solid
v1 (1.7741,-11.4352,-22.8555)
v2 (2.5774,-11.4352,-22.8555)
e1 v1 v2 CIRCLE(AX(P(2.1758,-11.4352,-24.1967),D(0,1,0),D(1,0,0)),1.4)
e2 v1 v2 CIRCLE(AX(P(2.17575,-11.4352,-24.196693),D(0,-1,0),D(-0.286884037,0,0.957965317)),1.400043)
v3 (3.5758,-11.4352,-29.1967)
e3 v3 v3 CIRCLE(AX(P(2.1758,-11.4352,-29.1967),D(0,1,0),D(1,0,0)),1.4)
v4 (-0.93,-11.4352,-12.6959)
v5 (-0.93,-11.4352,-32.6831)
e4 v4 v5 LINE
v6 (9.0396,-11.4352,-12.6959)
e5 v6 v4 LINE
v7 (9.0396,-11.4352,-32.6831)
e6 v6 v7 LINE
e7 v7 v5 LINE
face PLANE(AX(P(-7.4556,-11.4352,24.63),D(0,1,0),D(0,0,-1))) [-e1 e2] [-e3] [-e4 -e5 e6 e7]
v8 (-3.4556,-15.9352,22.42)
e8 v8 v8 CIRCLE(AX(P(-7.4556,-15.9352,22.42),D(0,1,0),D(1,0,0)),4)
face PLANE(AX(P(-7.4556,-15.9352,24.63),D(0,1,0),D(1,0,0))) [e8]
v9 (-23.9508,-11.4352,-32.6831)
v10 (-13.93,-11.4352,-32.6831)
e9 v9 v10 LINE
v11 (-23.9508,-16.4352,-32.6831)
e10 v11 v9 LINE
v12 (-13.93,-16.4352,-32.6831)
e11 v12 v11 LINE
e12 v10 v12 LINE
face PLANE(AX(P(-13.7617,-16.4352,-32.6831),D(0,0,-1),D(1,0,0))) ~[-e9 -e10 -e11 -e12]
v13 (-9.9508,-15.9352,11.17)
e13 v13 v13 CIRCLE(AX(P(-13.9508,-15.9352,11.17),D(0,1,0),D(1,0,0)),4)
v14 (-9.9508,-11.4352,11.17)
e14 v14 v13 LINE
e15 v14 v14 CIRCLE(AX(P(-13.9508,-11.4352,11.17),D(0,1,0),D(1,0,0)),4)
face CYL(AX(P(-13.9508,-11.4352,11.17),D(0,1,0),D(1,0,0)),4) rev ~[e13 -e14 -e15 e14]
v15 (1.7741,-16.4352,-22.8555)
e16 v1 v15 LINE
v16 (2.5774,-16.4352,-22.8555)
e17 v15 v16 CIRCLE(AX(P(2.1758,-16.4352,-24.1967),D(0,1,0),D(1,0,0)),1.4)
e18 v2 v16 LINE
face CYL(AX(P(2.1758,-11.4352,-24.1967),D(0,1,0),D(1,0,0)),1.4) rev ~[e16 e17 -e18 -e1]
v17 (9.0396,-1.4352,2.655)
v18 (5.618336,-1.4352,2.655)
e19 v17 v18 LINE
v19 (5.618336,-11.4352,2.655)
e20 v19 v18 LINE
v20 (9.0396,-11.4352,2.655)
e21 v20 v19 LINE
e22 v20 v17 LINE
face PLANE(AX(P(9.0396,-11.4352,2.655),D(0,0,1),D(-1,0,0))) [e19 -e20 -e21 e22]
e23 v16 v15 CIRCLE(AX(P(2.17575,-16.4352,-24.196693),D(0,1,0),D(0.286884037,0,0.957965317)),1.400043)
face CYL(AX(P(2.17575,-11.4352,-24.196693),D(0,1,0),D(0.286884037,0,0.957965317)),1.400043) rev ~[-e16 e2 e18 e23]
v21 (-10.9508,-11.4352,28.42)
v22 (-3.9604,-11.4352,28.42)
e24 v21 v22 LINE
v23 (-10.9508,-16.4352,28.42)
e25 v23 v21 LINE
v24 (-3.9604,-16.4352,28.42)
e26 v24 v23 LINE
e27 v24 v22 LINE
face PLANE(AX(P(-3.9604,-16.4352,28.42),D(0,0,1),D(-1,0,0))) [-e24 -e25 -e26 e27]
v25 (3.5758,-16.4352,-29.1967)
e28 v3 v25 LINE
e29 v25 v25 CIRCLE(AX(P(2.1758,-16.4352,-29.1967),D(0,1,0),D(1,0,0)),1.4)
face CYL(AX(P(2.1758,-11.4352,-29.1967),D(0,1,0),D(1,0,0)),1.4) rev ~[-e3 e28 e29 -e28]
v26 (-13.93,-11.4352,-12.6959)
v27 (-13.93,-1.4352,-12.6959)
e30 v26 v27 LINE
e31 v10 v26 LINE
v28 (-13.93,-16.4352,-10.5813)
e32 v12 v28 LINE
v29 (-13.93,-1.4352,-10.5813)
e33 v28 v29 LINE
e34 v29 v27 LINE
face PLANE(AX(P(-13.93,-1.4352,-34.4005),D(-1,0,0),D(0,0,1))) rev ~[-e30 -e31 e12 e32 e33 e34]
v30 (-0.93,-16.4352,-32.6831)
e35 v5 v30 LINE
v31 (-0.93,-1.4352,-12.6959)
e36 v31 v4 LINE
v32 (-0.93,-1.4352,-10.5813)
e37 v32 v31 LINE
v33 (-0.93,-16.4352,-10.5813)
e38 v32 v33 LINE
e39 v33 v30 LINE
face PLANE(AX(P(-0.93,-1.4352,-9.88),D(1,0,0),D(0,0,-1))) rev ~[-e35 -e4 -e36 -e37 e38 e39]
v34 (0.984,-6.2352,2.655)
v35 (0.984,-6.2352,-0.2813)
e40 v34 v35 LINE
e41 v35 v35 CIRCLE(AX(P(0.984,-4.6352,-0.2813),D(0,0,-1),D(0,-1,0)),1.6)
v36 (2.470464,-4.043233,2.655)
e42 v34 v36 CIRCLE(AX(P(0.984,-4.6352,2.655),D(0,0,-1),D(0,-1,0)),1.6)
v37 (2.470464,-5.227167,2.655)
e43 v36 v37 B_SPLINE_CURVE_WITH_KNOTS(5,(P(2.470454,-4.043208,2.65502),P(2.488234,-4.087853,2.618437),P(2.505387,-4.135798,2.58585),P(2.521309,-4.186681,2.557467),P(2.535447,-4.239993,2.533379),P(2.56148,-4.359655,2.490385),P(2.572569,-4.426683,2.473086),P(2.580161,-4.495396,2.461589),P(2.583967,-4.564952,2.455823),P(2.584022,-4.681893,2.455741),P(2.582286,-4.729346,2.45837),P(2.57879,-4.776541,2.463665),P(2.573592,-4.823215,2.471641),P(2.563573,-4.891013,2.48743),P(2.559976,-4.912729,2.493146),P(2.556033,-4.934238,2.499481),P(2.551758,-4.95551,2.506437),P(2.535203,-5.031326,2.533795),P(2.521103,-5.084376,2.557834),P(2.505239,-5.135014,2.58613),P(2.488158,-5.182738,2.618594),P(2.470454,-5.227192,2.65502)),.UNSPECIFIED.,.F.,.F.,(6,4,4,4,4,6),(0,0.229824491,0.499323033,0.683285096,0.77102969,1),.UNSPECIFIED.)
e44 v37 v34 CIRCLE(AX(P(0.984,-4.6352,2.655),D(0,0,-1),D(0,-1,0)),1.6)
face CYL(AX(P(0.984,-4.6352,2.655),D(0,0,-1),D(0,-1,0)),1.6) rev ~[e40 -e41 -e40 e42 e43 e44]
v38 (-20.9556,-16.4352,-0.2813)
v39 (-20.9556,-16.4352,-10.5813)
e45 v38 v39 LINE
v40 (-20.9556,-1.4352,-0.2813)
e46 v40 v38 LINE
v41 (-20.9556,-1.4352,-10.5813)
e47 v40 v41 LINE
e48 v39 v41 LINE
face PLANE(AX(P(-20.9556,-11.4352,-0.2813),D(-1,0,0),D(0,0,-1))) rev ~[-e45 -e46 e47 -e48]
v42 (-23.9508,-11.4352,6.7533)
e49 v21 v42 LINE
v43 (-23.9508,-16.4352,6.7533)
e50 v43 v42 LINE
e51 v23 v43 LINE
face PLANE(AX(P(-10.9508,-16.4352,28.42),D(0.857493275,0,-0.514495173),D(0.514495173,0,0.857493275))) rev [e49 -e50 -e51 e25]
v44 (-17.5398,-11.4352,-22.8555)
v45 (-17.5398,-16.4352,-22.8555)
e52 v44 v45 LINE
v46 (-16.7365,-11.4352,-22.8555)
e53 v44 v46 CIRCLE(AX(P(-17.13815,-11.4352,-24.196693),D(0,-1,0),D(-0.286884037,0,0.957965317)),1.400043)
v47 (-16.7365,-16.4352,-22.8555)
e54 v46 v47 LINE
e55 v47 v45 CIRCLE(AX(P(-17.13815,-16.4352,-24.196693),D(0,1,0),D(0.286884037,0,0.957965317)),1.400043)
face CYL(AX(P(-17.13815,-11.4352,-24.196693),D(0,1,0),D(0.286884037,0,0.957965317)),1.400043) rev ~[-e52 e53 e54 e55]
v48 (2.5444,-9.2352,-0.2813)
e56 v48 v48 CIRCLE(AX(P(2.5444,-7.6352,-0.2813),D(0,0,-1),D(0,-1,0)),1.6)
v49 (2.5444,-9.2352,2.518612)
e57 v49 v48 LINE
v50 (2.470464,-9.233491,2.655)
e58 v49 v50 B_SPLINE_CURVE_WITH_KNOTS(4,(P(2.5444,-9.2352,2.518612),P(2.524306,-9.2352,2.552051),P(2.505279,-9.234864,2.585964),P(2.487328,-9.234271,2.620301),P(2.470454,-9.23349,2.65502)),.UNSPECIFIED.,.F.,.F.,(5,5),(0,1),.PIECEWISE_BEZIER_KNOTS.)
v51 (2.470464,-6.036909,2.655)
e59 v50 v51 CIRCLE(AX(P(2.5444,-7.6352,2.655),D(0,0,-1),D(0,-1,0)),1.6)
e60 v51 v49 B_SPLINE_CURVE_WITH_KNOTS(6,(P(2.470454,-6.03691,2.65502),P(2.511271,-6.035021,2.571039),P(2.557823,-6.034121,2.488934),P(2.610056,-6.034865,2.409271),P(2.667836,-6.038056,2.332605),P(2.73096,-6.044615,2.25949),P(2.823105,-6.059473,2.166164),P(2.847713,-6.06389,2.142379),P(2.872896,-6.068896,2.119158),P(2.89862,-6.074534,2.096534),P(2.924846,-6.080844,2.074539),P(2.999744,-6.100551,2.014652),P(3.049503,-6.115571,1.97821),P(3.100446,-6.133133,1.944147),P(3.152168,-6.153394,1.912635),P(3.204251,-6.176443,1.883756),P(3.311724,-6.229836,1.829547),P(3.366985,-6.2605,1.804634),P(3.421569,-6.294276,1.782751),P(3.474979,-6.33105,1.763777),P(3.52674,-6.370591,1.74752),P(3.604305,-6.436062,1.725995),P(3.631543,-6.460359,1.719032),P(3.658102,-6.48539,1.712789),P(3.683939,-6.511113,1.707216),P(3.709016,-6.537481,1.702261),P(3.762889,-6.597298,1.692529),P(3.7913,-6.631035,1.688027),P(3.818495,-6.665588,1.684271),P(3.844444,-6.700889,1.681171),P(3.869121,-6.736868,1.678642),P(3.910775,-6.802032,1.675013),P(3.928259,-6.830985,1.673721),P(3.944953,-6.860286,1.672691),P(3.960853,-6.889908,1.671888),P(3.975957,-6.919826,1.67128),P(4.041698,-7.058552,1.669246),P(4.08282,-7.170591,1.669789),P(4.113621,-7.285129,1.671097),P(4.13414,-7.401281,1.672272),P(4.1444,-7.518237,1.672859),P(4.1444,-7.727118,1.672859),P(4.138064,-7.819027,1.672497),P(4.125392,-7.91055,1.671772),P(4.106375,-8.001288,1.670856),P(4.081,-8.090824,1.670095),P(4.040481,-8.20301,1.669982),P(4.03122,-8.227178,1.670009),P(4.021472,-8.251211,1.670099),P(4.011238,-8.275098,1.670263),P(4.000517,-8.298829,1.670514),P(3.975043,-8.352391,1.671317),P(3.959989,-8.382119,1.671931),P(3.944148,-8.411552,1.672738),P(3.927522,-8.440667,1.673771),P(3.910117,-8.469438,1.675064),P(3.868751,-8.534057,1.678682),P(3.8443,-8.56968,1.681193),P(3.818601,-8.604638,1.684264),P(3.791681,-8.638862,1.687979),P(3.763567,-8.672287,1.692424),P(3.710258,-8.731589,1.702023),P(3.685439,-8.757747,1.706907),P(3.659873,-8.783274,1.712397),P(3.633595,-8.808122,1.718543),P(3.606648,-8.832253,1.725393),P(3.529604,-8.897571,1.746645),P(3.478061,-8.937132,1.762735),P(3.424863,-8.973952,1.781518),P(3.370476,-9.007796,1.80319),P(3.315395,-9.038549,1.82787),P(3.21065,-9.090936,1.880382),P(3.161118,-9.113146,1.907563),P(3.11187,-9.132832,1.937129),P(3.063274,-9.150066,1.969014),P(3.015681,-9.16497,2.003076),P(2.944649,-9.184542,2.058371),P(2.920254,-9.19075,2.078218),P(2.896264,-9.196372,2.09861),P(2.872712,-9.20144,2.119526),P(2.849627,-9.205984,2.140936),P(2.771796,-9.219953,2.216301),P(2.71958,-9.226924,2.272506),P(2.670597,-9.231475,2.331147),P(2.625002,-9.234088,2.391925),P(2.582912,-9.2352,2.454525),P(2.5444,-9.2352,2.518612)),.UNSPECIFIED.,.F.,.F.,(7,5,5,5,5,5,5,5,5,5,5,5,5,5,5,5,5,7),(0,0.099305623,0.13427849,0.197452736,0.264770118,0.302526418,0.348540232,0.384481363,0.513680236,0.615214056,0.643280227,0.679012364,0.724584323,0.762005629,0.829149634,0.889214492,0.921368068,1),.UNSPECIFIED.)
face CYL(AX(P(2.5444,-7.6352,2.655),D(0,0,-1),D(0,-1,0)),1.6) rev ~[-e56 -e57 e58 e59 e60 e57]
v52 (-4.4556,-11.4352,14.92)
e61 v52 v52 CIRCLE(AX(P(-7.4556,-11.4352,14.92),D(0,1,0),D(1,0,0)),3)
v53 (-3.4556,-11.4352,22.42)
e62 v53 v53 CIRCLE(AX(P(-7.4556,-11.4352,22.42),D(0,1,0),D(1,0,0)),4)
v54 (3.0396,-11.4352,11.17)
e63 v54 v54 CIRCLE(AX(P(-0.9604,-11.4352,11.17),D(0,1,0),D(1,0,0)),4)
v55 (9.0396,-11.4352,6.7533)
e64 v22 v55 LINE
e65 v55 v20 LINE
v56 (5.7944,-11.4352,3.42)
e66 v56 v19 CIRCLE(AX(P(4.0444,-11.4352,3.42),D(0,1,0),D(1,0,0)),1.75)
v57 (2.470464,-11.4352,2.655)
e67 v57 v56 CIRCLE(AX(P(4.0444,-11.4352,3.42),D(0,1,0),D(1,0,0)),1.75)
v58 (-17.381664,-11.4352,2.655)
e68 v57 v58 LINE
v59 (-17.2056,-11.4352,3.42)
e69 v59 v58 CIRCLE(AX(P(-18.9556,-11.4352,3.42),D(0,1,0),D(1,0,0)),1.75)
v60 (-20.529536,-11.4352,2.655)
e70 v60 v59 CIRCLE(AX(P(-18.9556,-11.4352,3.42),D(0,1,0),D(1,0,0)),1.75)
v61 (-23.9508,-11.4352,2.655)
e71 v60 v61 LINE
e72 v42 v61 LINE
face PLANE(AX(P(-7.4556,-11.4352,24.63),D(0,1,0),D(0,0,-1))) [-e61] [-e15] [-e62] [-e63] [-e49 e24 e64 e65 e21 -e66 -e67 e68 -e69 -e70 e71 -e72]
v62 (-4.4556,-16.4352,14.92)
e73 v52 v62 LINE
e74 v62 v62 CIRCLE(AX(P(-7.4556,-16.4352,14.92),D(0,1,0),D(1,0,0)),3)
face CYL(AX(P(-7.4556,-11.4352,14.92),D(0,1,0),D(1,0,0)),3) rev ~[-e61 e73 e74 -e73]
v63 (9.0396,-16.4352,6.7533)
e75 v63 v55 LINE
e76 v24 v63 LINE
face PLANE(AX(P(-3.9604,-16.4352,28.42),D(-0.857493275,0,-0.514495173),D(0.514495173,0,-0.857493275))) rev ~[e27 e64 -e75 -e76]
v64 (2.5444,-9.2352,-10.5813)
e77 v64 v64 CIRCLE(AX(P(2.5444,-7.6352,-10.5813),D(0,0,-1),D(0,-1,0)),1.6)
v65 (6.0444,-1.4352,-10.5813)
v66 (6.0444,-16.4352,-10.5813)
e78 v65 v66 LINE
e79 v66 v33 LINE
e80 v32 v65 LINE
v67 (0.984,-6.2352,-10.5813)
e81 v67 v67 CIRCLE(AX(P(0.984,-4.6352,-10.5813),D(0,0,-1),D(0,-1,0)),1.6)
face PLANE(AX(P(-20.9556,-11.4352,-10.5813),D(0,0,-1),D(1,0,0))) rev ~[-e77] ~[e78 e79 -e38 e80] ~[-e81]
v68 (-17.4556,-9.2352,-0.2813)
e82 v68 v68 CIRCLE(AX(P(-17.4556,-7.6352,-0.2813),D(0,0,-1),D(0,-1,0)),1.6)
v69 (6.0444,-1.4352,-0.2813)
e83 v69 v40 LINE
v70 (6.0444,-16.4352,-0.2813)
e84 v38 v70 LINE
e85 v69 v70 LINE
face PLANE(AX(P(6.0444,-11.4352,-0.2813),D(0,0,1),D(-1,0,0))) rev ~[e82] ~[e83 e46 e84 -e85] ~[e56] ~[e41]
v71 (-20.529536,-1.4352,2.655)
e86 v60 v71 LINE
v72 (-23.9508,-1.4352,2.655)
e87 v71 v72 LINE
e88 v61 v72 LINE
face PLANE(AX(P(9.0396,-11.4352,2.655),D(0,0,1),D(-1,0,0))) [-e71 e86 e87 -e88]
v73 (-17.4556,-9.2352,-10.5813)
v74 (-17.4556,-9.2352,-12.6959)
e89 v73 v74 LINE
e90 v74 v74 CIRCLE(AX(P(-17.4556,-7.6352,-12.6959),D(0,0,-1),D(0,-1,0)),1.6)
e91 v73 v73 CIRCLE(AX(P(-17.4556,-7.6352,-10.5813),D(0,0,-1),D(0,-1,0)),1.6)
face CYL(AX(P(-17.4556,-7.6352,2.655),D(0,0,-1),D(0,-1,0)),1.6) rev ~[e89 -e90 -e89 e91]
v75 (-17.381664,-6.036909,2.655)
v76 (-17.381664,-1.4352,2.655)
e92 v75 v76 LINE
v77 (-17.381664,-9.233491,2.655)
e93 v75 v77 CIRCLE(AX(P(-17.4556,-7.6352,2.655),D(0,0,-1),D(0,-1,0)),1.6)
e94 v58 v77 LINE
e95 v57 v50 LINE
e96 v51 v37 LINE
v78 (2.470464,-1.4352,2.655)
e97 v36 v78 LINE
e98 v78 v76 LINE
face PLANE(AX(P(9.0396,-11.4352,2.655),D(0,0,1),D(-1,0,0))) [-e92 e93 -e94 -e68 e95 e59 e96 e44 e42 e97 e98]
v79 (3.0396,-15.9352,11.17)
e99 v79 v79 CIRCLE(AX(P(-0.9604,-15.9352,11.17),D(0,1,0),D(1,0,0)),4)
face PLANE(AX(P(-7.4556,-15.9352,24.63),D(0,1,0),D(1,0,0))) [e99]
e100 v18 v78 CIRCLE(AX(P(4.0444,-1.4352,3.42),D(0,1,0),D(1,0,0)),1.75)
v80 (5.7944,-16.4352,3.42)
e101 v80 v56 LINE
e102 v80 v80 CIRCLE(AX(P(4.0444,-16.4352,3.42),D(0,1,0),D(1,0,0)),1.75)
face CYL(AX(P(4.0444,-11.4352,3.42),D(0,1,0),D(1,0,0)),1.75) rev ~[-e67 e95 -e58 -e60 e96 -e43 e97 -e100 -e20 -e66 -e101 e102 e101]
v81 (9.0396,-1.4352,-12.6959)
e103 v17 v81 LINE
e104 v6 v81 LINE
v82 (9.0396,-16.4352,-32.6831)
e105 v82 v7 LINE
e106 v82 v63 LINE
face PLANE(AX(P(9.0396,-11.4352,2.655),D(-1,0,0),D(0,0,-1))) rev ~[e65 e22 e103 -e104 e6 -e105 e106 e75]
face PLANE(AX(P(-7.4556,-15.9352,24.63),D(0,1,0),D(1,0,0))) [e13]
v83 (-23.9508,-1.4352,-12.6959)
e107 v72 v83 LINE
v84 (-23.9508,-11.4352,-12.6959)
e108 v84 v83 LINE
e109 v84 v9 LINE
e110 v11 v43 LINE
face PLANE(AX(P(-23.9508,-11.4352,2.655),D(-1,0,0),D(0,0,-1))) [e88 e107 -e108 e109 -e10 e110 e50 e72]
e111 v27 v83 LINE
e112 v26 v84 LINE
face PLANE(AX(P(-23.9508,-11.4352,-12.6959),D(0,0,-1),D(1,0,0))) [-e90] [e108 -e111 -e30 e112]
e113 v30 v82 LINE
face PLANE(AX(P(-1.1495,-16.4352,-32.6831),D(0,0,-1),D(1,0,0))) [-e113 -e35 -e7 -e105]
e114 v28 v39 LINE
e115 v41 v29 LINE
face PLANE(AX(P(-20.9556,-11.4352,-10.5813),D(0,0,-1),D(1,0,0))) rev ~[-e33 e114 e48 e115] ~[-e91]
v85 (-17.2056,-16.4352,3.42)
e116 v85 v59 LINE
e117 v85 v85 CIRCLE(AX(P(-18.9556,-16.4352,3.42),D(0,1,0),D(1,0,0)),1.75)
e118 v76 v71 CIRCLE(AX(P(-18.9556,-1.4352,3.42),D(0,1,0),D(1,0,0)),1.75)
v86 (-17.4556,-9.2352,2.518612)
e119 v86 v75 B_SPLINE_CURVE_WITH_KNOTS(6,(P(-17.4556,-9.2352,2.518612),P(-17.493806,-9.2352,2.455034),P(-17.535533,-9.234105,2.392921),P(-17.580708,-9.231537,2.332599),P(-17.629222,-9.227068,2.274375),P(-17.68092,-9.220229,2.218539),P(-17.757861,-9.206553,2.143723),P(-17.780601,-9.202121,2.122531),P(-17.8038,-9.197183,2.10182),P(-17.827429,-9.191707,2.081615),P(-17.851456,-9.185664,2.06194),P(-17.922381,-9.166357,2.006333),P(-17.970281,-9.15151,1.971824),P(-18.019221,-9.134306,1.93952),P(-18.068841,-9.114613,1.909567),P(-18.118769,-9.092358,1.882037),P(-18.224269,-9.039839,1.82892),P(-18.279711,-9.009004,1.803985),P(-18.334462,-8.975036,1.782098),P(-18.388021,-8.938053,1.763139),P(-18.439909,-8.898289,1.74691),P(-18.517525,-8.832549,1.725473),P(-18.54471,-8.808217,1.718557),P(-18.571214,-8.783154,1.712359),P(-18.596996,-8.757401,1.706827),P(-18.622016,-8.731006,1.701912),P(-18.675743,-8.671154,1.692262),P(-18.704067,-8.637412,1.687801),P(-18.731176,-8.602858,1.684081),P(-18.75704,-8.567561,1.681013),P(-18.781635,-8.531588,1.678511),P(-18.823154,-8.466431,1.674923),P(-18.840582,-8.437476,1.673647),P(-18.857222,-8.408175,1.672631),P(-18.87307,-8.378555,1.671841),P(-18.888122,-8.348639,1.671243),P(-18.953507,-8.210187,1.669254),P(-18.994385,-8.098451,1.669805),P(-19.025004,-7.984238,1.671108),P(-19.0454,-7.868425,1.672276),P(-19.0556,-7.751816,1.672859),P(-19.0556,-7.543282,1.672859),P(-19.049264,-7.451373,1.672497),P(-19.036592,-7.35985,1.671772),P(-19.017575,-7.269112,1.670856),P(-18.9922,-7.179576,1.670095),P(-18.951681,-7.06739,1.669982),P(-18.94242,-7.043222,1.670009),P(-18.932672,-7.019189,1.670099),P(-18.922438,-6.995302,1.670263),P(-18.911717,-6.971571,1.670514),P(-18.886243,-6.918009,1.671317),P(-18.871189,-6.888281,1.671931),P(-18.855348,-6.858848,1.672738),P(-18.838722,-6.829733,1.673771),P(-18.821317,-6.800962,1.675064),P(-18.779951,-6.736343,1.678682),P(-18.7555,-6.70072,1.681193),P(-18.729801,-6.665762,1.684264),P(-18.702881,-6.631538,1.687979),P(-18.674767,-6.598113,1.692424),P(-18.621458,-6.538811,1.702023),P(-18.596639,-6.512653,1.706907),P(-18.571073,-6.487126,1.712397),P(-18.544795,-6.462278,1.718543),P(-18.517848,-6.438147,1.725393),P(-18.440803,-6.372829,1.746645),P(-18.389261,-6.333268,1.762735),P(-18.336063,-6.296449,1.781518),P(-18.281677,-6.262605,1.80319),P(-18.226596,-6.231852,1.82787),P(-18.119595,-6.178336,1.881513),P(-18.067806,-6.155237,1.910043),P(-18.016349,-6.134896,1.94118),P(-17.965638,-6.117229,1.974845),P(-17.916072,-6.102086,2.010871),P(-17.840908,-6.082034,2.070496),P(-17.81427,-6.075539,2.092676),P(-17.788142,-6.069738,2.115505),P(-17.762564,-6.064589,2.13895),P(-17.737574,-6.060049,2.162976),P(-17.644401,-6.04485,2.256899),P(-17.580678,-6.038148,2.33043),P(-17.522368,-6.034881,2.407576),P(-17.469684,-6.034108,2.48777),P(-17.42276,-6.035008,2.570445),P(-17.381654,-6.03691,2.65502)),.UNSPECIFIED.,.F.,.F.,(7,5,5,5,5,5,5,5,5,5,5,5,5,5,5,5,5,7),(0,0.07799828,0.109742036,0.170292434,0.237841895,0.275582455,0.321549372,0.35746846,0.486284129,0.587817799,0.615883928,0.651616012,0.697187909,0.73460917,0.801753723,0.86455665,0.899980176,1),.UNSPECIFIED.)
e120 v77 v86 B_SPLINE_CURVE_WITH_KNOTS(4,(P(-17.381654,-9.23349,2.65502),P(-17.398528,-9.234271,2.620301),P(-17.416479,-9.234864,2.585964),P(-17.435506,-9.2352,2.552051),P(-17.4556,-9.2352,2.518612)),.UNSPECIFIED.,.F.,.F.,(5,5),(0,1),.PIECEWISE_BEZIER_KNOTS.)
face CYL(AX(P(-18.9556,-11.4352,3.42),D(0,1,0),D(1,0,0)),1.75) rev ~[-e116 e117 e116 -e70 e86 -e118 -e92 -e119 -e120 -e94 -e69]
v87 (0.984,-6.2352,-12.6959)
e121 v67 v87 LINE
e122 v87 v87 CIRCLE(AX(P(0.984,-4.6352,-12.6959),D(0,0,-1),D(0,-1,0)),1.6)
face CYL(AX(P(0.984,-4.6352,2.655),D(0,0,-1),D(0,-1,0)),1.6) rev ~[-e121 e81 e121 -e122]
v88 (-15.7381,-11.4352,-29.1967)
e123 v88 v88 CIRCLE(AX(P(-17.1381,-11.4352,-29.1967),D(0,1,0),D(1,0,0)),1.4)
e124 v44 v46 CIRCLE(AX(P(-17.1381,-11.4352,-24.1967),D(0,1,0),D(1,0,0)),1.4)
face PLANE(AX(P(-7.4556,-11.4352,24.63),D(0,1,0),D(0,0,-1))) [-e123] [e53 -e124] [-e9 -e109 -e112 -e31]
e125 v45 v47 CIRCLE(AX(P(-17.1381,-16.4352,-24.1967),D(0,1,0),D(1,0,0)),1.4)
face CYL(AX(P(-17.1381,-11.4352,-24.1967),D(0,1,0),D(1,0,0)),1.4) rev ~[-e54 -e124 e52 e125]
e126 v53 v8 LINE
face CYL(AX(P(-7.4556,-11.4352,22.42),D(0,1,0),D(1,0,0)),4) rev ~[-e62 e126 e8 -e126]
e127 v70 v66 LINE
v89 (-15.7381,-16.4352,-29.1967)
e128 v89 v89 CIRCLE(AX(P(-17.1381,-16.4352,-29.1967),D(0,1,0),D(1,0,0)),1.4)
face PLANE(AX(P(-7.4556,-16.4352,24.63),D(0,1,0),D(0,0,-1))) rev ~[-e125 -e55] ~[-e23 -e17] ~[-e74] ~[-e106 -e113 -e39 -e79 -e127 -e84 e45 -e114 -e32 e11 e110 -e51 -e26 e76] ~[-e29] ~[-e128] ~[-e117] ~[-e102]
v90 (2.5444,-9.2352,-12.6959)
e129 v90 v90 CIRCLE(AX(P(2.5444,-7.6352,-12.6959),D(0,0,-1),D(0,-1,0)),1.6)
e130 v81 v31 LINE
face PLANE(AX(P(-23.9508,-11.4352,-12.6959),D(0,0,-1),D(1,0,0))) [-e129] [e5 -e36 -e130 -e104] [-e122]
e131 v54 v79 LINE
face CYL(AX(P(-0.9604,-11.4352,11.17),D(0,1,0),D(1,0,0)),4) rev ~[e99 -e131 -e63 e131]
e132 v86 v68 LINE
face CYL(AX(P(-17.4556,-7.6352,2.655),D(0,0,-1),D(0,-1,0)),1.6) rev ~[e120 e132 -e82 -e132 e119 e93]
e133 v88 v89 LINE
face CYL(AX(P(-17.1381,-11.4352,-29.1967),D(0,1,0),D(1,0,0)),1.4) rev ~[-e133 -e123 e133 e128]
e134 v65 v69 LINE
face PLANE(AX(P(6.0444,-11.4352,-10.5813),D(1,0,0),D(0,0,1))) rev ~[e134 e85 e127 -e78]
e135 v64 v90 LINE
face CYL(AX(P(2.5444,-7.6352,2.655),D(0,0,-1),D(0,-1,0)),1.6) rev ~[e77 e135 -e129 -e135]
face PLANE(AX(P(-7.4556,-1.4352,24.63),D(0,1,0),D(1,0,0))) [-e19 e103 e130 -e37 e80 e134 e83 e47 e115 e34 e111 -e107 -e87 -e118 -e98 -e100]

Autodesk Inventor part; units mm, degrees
ref_plane "YZ Plane" through (0, 0, 0) normal (1, 0, 0) x (0, 1, 0)
ref_plane "XZ Plane" through (0, 0, 0) normal (0, 1, 0) x (-1, 0, 0)
ref_plane "XY Plane" through (0, 0, 0) normal (0, 0, 1) x (1, 0, 0)
ref_plane "Work Plane8" through (-7.4556, -16.4352, 24.63) normal (0, 1, 0) x (0, 0, -1)
sketch "Sketch12" plane through (-7.4556, -16.4352, 24.63) normal (0, 1, 0) x (0, 0, -1)
  line L0 (59.1648, 4.9103) -> (72.1552, 12.4103) construction
  arc A0 (80.66, 7.5) -> (72.1552, 12.4103) centre (70.66, 0) ccw construction
  line L1 (80.66, 7.5) -> (80.66, -7.5) construction
  arc A1 (72.1552, -12.4103) -> (80.66, -7.5) centre (70.66, 0) ccw construction
  line L2 (72.1552, -12.4103) -> (59.1648, -4.9103) construction
  arc A2 (59.1648, 4.9103) -> (59.1648, -4.9103) centre (70.66, 0) ccw construction
  line L3 (57.3131, 5.945) -> (46.6951, 5.945) construction
  line L4 (46.6951, 5.945) -> (46.6951, -5.9961)
  line L5 (46.6951, -5.9961) -> (57.3131, -5.9961)
  line L6 (57.3131, -5.9961) -> (57.3131, -15)
  line L7 (57.3131, -15) -> (85.66, -15) construction
  line L8 (85.66, -15) -> (85.66, 15) construction
  line L9 (85.66, 15) -> (57.3131, 15) construction
  line L10 (57.3131, 15) -> (57.3131, 5.945) construction
  line L11 (46.6951, -6.3061) -> (57.3131, -6.3061)
  line L12 (41.63, -16.87) -> (45.71, -16.87) projected
  line L13 (55.66, -15) -> (46.2855, -13.3689) projected
  line L14 (55.66, -15) -> (105.1976, -15) construction
  line L15 (46.6951, 0) -> (46.6951, -6.3061)
  line L16 (9.71, -3.1754) -> (12.46, -1.5877) construction
  line L17 (12.46, -1.5877) -> (12.46, 1.5877) construction
  line L18 (12.46, 1.5877) -> (9.71, 3.1754) construction
  line L19 (9.71, 3.1754) -> (6.96, 1.5877) construction
  line L20 (6.96, 1.5877) -> (6.96, -1.5877) construction
  line L21 (6.96, -1.5877) -> (9.71, -3.1754) construction
  line L22 (-3.79, -3.4952) -> (-3.79, 3.4952)
  line L23 (-3.79, 0) -> (-3.79, 0)
  line L24 (-3.79, 0) -> (-3.79, -3.4952)
  line L25 (-3.79, -3.4952) -> (17.8767, -16.4952)
  line L26 (46.6951, 0) -> (-3.79, 0)
  line L27 (57.3131, -6.3061) -> (57.3131, -15)
  line L28 (-3.79, -8.16) -> (-3.79, 8.16) projected
  line L29 (19.46, 16.4952) -> (10.1021, 16.4952) projected
  line L30 (19.46, -16.4952) -> (19.46, 16.4952) projected
  line L31 (10.1021, -16.4952) -> (19.46, -16.4952) projected
  line L32 (10.1021, 16.4952) -> (-3.79, 8.16) projected
  line L33 (-3.79, -8.16) -> (10.1021, -16.4952) projected
  line L34 (17.8767, -16.4952) -> (57.3131, -16.4952)
  line L35 (57.3131, -16.4952) -> (57.3131, -15)
  line L36 (57.3131, -15) -> (37.3669, -15)
  line L37 (39.63, 0) -> (49.93, 0)
  line L38 (49.93, 0) -> (49.93, -12.8511)
  line L39 (49.93, -12.8511) -> (39.63, -12.8511)
  line L40 (39.63, -12.8511) -> (39.63, 0)
  line L41 (52.63, -16.0211) -> (18.69, -16.0211) construction
  line L42 (18.69, 17.9189) -> (52.63, 17.9189) projected
  arc A3 (48.3173, -4.8992) -> (48.4594, -5.1011) centre (48.5983, -4.8523) ccw projected
  line L43 (48.4594, -5.1011) -> (52.63, -5.1011) projected
  line L44 (52.63, -5.1011) -> (52.63, 6.9989) projected
  line L45 (48.4594, 6.9989) -> (52.63, 6.9989) projected
  arc A4 (48.4594, 6.9989) -> (48.3173, 6.7971) centre (48.5983, 6.7502) ccw projected
  arc A5 (47.9241, 6.5003) -> (48.3173, 6.7971) centre (47.4153, 7.5832) ccw projected
  arc A6 (47.9241, 6.5003) -> (47.8129, 6.374) centre (48.0446, 6.2821) ccw projected
  line L46 (47.7741, 5.8769) -> (47.8129, 6.374) projected
  arc A7 (47.5555, 5.6489) -> (47.7741, 5.8769) centre (47.5256, 5.8964) ccw projected
  line L47 (47.1044, 5.6489) -> (47.5555, 5.6489) projected
  arc A8 (46.8561, 5.8765) -> (47.1044, 5.6489) centre (47.1044, 5.8982) ccw projected
  line L48 (46.8241, 6.242) -> (46.8561, 5.8765) projected
  arc A9 (46.8241, 6.242) -> (46.6712, 6.5003) centre (46.5764, 6.2698) ccw projected
  arc A10 (46.1533, 6.8443) -> (46.6712, 6.5003) centre (47.0626, 7.6514) ccw projected
  arc A11 (46.1533, 6.8443) -> (45.93, 6.9989) centre (45.9227, 6.7498) ccw projected
  line L49 (45.33, 6.9989) -> (45.93, 6.9989) projected
  line L50 (44.83, 6.4989) -> (45.33, 6.9989) projected
  line L51 (44.83, 6.4989) -> (44.83, -4.6011) projected
  line L52 (44.83, -4.6011) -> (45.33, -5.1011) projected
  line L53 (45.33, -5.1011) -> (45.93, -5.1011) projected
  arc A12 (45.93, -5.1011) -> (46.1533, -4.9464) centre (45.9227, -4.8519) ccw projected
  arc A13 (46.6712, -4.6024) -> (46.1533, -4.9464) centre (47.0626, -5.7535) ccw projected
  arc A14 (46.6712, -4.6024) -> (46.8241, -4.3441) centre (46.5764, -4.3719) ccw projected
  line L54 (46.8241, -4.3441) -> (46.8561, -3.9786) projected
  arc A15 (47.1044, -3.7511) -> (46.8561, -3.9786) centre (47.1044, -4.0003) ccw projected
  line L55 (47.1044, -3.7511) -> (47.5555, -3.7511) projected
  arc A16 (47.7741, -3.9791) -> (47.5555, -3.7511) centre (47.5256, -3.9985) ccw projected
  line L56 (47.7741, -3.9791) -> (47.8129, -4.4761) projected
  arc A17 (47.8129, -4.4761) -> (47.9241, -4.6024) centre (48.0446, -4.3842) ccw projected
  arc A18 (48.3173, -4.8992) -> (47.9241, -4.6024) centre (47.4153, -5.6854) ccw projected
  arc A19 (48.2566, -4.8959) -> (47.7572, -4.3183) centre (47.1462, -5.3511) ccw construction
  arc A20 (47.6355, -4.1249) -> (47.7572, -4.3183) centre (47.8845, -4.1031) ccw construction
  line L57 (47.6355, -4.1249) -> (47.6053, -3.7793) construction
  arc A21 (47.6053, -3.7793) -> (47.3562, -3.5511) centre (47.3562, -3.8011) ccw construction
  line L58 (47.3562, -3.5511) -> (46.9038, -3.5511) construction
  arc A22 (46.9038, -3.5511) -> (46.6547, -3.7793) centre (46.9038, -3.8011) ccw construction
  line L59 (46.6547, -3.7793) -> (46.6227, -4.1458) construction
  arc A23 (46.5068, -4.3356) -> (46.6227, -4.1458) centre (46.3736, -4.124) ccw construction
  arc A24 (46.5068, -4.3356) -> (46.0359, -4.8959) centre (47.1462, -5.3511) ccw construction
  arc A25 (45.8046, -5.0511) -> (46.0359, -4.8959) centre (45.8046, -4.8011) ccw construction
  line L60 (45.8046, -5.0511) -> (45.13, -5.0511) construction
  line L61 (45.13, -5.0511) -> (44.63, -4.5511) construction
  line L62 (44.63, -4.5511) -> (44.63, 6.4489) construction
  line L63 (44.63, 6.4489) -> (45.13, 6.9489) construction
  line L64 (45.13, 6.9489) -> (45.8046, 6.9489) construction
  arc A26 (46.0359, 6.7938) -> (45.8046, 6.9489) centre (45.8046, 6.6989) ccw construction
  arc A27 (46.0359, 6.7938) -> (46.5068, 6.2335) centre (47.1462, 7.2489) ccw construction
  arc A28 (46.6227, 6.0437) -> (46.5068, 6.2335) centre (46.3736, 6.0219) ccw construction
  line L65 (46.6227, 6.0437) -> (46.6547, 5.6771) construction
  arc A29 (46.6547, 5.6771) -> (46.9038, 5.4489) centre (46.9038, 5.6989) ccw construction
  line L66 (46.9038, 5.4489) -> (47.3562, 5.4489) construction
  arc A30 (47.3562, 5.4489) -> (47.6053, 5.6771) centre (47.3562, 5.6989) ccw construction
  line L67 (47.6053, 5.6771) -> (47.6355, 6.0228) construction
  arc A31 (47.7572, 6.2161) -> (47.6355, 6.0228) centre (47.8845, 6.001) ccw construction
  arc A32 (47.7572, 6.2161) -> (48.2566, 6.7938) centre (47.1462, 7.2489) ccw construction
  arc A33 (48.4879, 6.9489) -> (48.2566, 6.7938) centre (48.4879, 6.6989) ccw construction
  line L68 (48.4879, 6.9489) -> (49.63, 6.9489) construction
  line L69 (49.63, 6.9489) -> (49.63, 13.8489) construction
  line L70 (49.63, 13.8489) -> (49.03, 14.4489) construction
  line L71 (49.03, 14.4489) -> (45.63, 14.4489) construction
  arc A34 (44.83, 14.4489) -> (45.63, 14.4489) centre (45.23, 14.7489) ccw construction
  line L72 (44.83, 14.4489) -> (40.23, 14.4489) construction
  line L73 (40.23, 14.4489) -> (39.63, 13.8489) construction
  line L74 (39.63, 13.8489) -> (39.63, 7.3489) construction
  line L75 (39.63, 7.3489) -> (40.03, 6.9489) construction
  line L76 (40.03, 6.9489) -> (40.03, -5.0511) construction
  line L77 (40.03, -5.0511) -> (39.63, -5.4511) construction
  line L78 (39.63, -5.4511) -> (39.63, -11.951) construction
  line L79 (39.63, -11.951) -> (40.23, -12.5511) construction
  line L80 (40.23, -12.5511) -> (49.03, -12.5511) construction
  line L81 (49.03, -12.5511) -> (49.63, -11.9511) construction
  line L82 (49.63, -11.9511) -> (49.63, -5.0511) construction
  line L83 (49.63, -5.0511) -> (48.4879, -5.0511) construction
  arc A35 (48.2566, -4.8959) -> (48.4879, -5.0511) centre (48.4879, -4.8011) ccw construction
  point P0 (24.63, -7.4556)
  point P1 (11.21, -12.4952)
  point P2 (19.46, 12.4952)
  point P3 (19.46, -12.4952)
  dimension "d114" = 5.1011
  dimension "d115" = 6.9989
  dimension "d116" = 0.3
  dimension "d117" = 0.3
  dimension "d123" = 0
extrude "Extrusion11" add sketch "Sketch12" along normal blind 5 contours L37 L38 L43 A3 A18 A17 L56 A16 L55 A15 L54 A14 L4 | L4 A14 A13 A12 L53 L52 L51 L26 | A14 L54 A15 L55 A16 L56 A17 A18 A3 L43 L38 L5 L4 | L4 L15 L11 L38 L39 L40 L26 L51 L52 L53 A12 A13 A14 | L5 L38 L11 L15 | L40 L39 L38 L11 L6 L35 L34 L30 L26 | L30 L31 L25 L22 L26
sketch "Sketch13" plane through (-7.4556, -11.4352, 24.63) normal (0, 1, 0) x (1, 0, 0)
  line L0 (-13.1744, 24.9113) -> (13.5, 24.9113)
  line L1 (13.5, 24.9113) -> (13.5, 35.2113)
  line L2 (13.5, 35.2113) -> (-13.1744, 35.2113)
  line L3 (-13.1744, 35.2113) -> (-13.1744, 24.9113)
  line L4 (-13.5, 34.3113) -> (-13.5, 26.5113) construction
  line L5 (-13.5, 26.5113) -> (-12.3, 25.3113) construction
  line L6 (-12.3, 25.3113) -> (11.7, 25.3113) construction
  line L7 (11.7, 25.3113) -> (12.9, 26.5113) construction
  line L8 (12.9, 26.5113) -> (12.9, 34.3113) construction
  line L9 (12.9, 34.3113) -> (12.3, 34.9113) construction
  line L10 (12.3, 34.9113) -> (5.7, 34.9113) construction
  line L11 (5.7, 34.9113) -> (5.7, 33.7692) construction
  arc A0 (5.5448, 33.5379) -> (5.7, 33.7692) centre (5.45, 33.7692) ccw construction
  arc A1 (5.5448, 33.5379) -> (4.9672, 33.0386) centre (6, 32.4276) ccw construction
  arc A2 (4.7738, 32.9168) -> (4.9672, 33.0386) centre (4.752, 33.1659) ccw construction
  line L12 (4.7738, 32.9168) -> (4.4282, 32.8866) construction
  arc A3 (4.4282, 32.8866) -> (4.2, 32.6375) centre (4.45, 32.6375) ccw construction
  line L13 (4.2, 32.6375) -> (4.2, 32.1851) construction
  arc A4 (4.2, 32.1851) -> (4.4282, 31.9361) centre (4.45, 32.1851) ccw construction
  line L14 (4.4282, 31.9361) -> (4.7947, 31.904) construction
  arc A5 (4.9845, 31.7882) -> (4.7947, 31.904) centre (4.773, 31.6549) ccw construction
  arc A6 (4.9845, 31.7882) -> (5.5448, 31.3172) centre (6, 32.4276) ccw construction
  arc A7 (5.7, 31.0859) -> (5.5448, 31.3172) centre (5.45, 31.0859) ccw construction
  line L15 (5.7, 31.0859) -> (5.7, 30.4113) construction
  line L16 (5.7, 30.4113) -> (5.2, 29.9113) construction
  line L17 (5.2, 29.9113) -> (-5.8, 29.9113) construction
  line L18 (-5.8, 29.9113) -> (-6.3, 30.4113) construction
  line L19 (-6.3, 30.4113) -> (-6.3, 31.0859) construction
  arc A8 (-6.1448, 31.3172) -> (-6.3, 31.0859) centre (-6.05, 31.0859) ccw construction
  arc A9 (-6.1448, 31.3172) -> (-5.5845, 31.7882) centre (-6.6, 32.4276) ccw construction
  arc A10 (-5.3948, 31.904) -> (-5.5845, 31.7882) centre (-5.373, 31.6549) ccw construction
  line L20 (-5.3948, 31.904) -> (-5.0282, 31.9361) construction
  arc A11 (-5.0282, 31.9361) -> (-4.8, 32.1851) centre (-5.05, 32.1851) ccw construction
  line L21 (-4.8, 32.1851) -> (-4.8, 32.6375) construction
  arc A12 (-4.8, 32.6375) -> (-5.0282, 32.8866) centre (-5.05, 32.6375) ccw construction
  line L22 (-5.0282, 32.8866) -> (-5.3738, 32.9168) construction
  arc A13 (-5.5672, 33.0386) -> (-5.3738, 32.9168) centre (-5.352, 33.1659) ccw construction
  arc A14 (-5.5672, 33.0386) -> (-6.1448, 33.5379) centre (-6.6, 32.4276) ccw construction
  arc A15 (-6.3, 33.7692) -> (-6.1448, 33.5379) centre (-6.05, 33.7692) ccw construction
  line L23 (-6.3, 33.7692) -> (-6.3, 34.9113) construction
  line L24 (-6.3, 34.9113) -> (-12.9, 34.9113) construction
  line L25 (-12.9, 34.9113) -> (-13.5, 34.3113) construction
  circle A16 centre (-7.2, 27.9063) radius 2.1 construction
  circle A17 centre (6.6, 27.9063) radius 2.1 construction
  arc A18 (5.5448, 33.5379) -> (4.9672, 33.0386) centre (6, 32.4276) ccw construction
  arc A19 (4.7738, 32.9168) -> (4.9672, 33.0386) centre (4.752, 33.1659) ccw construction
  line L26 (4.7738, 32.9168) -> (4.4282, 32.8866) construction
  arc A20 (4.4282, 32.8866) -> (4.2, 32.6375) centre (4.45, 32.6375) ccw construction
  line L27 (4.2, 32.6375) -> (4.2, 32.1851) construction
  arc A21 (4.2, 32.1851) -> (4.4282, 31.9361) centre (4.45, 32.1851) ccw construction
  line L28 (4.4282, 31.9361) -> (4.7948, 31.904) construction
  arc A22 (4.9845, 31.7882) -> (4.7948, 31.904) centre (4.773, 31.6549) ccw construction
  arc A23 (4.9845, 31.7882) -> (5.5448, 31.3172) centre (6, 32.4276) ccw construction
  arc A24 (5.7, 31.0859) -> (5.5448, 31.3172) centre (5.45, 31.0859) ccw construction
  line L29 (5.7, 31.0859) -> (5.7, 30.4113) construction
  line L30 (5.7, 30.4113) -> (5.2, 29.9113) construction
  line L31 (5.2, 29.9113) -> (-5.8, 29.9113) construction
  line L32 (-5.8, 29.9113) -> (-6.3, 30.4113) construction
  line L33 (-6.3, 30.4113) -> (-6.3, 31.0859) construction
  arc A25 (-6.1448, 31.3172) -> (-6.3, 31.0859) centre (-6.05, 31.0859) ccw construction
  arc A26 (-6.1448, 31.3172) -> (-5.5846, 31.7882) centre (-6.6, 32.4276) ccw construction
  arc A27 (-5.3948, 31.904) -> (-5.5846, 31.7882) centre (-5.373, 31.6549) ccw construction
  line L34 (-5.3948, 31.904) -> (-5.0282, 31.9361) construction
  arc A28 (-5.0282, 31.9361) -> (-4.8, 32.1851) centre (-5.05, 32.1851) ccw construction
  line L35 (-4.8, 32.1851) -> (-4.8, 32.6375) construction
  arc A29 (-4.8, 32.6375) -> (-5.0282, 32.8866) centre (-5.05, 32.6375) ccw construction
  line L36 (-5.0282, 32.8866) -> (-5.3738, 32.9168) construction
  arc A30 (-5.5672, 33.0386) -> (-5.3738, 32.9168) centre (-5.3521, 33.1659) ccw construction
  arc A31 (-5.5672, 33.0386) -> (-6.1448, 33.5379) centre (-6.6, 32.4276) ccw construction
  arc A32 (-6.3, 33.7692) -> (-6.1448, 33.5379) centre (-6.05, 33.7692) ccw construction
  line L37 (-6.3, 33.7692) -> (-6.3, 34.9113) construction
  line L38 (-6.3, 34.9113) -> (-13.2, 34.9113) construction
  line L39 (-13.2, 34.9113) -> (-13.8, 34.3113) construction
  line L40 (-13.8, 34.3113) -> (-13.8, 30.9113) construction
  arc A33 (-13.8, 30.1113) -> (-13.8, 30.9113) centre (-14.1, 30.5113) ccw construction
  line L41 (-13.8, 30.1113) -> (-13.8, 25.5113) construction
  line L42 (-13.8, 25.5113) -> (-13.2, 24.9113) construction
  line L43 (-13.2, 24.9113) -> (-6.7, 24.9113) construction
  line L44 (-6.7, 24.9113) -> (-6.3, 25.3113) construction
  line L45 (-6.3, 25.3113) -> (5.7, 25.3113) construction
  line L46 (5.7, 25.3113) -> (6.1, 24.9113) construction
  line L47 (6.1, 24.9113) -> (12.6, 24.9113) construction
  line L48 (12.6, 24.9113) -> (13.2, 25.5113) construction
  line L49 (13.2, 25.5113) -> (13.2, 34.3113) construction
  line L50 (13.2, 34.3113) -> (12.6, 34.9113) construction
  line L51 (12.6, 34.9113) -> (5.7, 34.9113) construction
  line L52 (5.7, 34.9113) -> (5.7, 33.7692) construction
  arc A34 (5.5448, 33.5379) -> (5.7, 33.7692) centre (5.45, 33.7692) ccw construction
  point P0 (7.4556, 24.63)
  dimension "d110" = 0.3
  dimension "d111" = 0.3
extrude "Extrusion12" cut sketch "Sketch13" against normal through all
mirror "Mirror3" about plane through (-7.4556, -16.4352, -22.0651) normal (-1, 0, 0) of "Extrusion11", "Extrusion12"
sketch "Sketch17" plane through (-7.4556, -11.4352, 24.63) normal (0, 1, 0) x (1, 0, 0)
  circle A0 centre (6.4952, 13.46) radius 4 projected
  circle A1 centre (0, 2.21) radius 4 projected
  circle A2 centre (-6.4952, 13.46) radius 4 projected
  point P0 (7.4556, 24.63)
extrude "Extrusion16" cut sketch "Sketch17" against normal blind 4.5
sketch "Sketch18" plane through (-7.4556, -11.4352, 24.63) normal (0, 1, 0) x (1, 0, 0)
  line L0 (-16.4952, 17.8767) -> (-16.4952, 57.3131) projected
  line L1 (16.4952, 17.8767) -> (16.4952, 57.3131) projected
  line L2 (16.4952, 25.975) -> (16.4952, 21.975)
  line L3 (16.4952, 21.975) -> (-16.4952, 21.975)
  line L4 (-16.4952, 21.975) -> (-16.4952, 25.975)
  line L5 (15, 37.3669) -> (15, 37.2259) projected
  line L6 (-15, 37.2259) -> (15, 37.2259) construction
  line L7 (-16.4952, 37.3259) -> (16.4952, 37.3259)
  line L8 (16.4952, 17.8767) -> (16.4952, 57.3131) projected
  line L9 (-16.4952, 37.3259) -> (16.4952, 37.3259) construction
  line L10 (-13.5, 35.2113) -> (13.5, 35.2113)
  line L11 (13.5, 35.2113) -> (13.5, 24.9113)
  line L12 (13.5, 24.9113) -> (-13.5, 24.9113)
  line L13 (-13.5, 24.9113) -> (-13.5, 35.2113)
  line L14 (-16.4952, 37.3259) -> (16.4952, 37.3259)
  line L15 (16.4952, 37.3259) -> (16.4952, 21.975)
  line L16 (16.4952, 21.975) -> (-16.4952, 21.975)
  line L17 (-16.4952, 21.975) -> (-16.4952, 37.3259)
  point P0 (7.4556, 24.63)
  dimension "d85" = 4
  dimension "d96" = 0
extrude "Extrusion17" add sketch "Sketch18" along normal blind 10
sketch "Sketch19" plane through (-23.9508, -11.4352, 2.655) normal (0, 0, 1) x (1, 0, 0)
  circle A0 centre (6.4952, 3.8) radius 1.25
  circle A1 centre (26.4952, 3.8) radius 1.5
  point P0 (4.9348, 6.8)
  point P1 (24.9348, 6.8)
hole "Hole1" at (-17.4556, -7.6352, 2.655) at (2.5444, -7.6352, 2.655) at (0.984, -4.6352, 2.655) direction (0, 0, -1) diameter 3.2 end through all
sketch "Sketch20" plane through (-7.4556, -11.4352, 24.63) normal (0, 1, 0) x (1, 0, 0)
  circle A0 centre (-10.5315, 68.5467) radius 1.4 projected
  circle A1 centre (8.7824, 68.5467) radius 1.4 projected
  arc A2 (-10.1298, 62.2055) -> (-10.9331, 62.2055) centre (-10.5315, 63.5467) ccw projected
  arc A3 (9.1841, 62.2055) -> (8.3808, 62.2055) centre (8.7824, 63.5467) ccw projected
  circle A4 centre (-10.5315, 63.5467) radius 1.4
  circle A5 centre (8.7824, 63.5467) radius 1.4
  point P0 (7.4556, 24.63)
extrude "Extrusion18" cut sketch "Sketch20" against normal blind 10
sketch "Sketch21" plane through (-7.4556, -1.4352, 24.63) normal (0, 1, 0) x (1, 0, 0)
  line L0 (-13.1744, 33.91) -> (-13.1744, 26.11) projected
  line L1 (-13.1744, 26.11) -> (-11.9744, 24.91) projected
  line L2 (-11.9744, 24.91) -> (12.0256, 24.91) projected
  line L3 (12.0256, 24.91) -> (13.2256, 26.11) projected
  line L4 (13.2256, 26.11) -> (13.2256, 33.91) projected
  line L5 (13.2256, 33.91) -> (12.6256, 34.51) projected
  line L6 (12.6256, 34.51) -> (6.0256, 34.51) projected
  line L7 (6.0256, 34.51) -> (6.0256, 33.3679) projected
  arc A0 (5.8704, 33.1366) -> (6.0256, 33.3679) centre (5.7756, 33.3679) ccw projected
  arc A1 (5.8704, 33.1366) -> (5.2928, 32.6373) centre (6.3256, 32.0262) ccw projected
  arc A2 (5.0994, 32.5155) -> (5.2928, 32.6373) centre (5.0776, 32.7645) ccw projected
  line L8 (5.0994, 32.5155) -> (4.7538, 32.4853) projected
  arc A3 (4.7538, 32.4853) -> (4.5256, 32.2362) centre (4.7756, 32.2362) ccw projected
  line L9 (4.5256, 32.2362) -> (4.5256, 31.7838) projected
  arc A4 (4.5256, 31.7838) -> (4.7538, 31.5348) centre (4.7756, 31.7838) ccw projected
  line L10 (4.7538, 31.5348) -> (5.1203, 31.5027) projected
  arc A5 (5.3101, 31.3868) -> (5.1203, 31.5027) centre (5.0985, 31.2536) ccw projected
  arc A6 (5.3101, 31.3868) -> (5.8704, 30.9159) centre (6.3256, 32.0262) ccw projected
  arc A7 (6.0256, 30.6846) -> (5.8704, 30.9159) centre (5.7756, 30.6846) ccw projected
  line L11 (6.0256, 30.6846) -> (6.0256, 30.01) projected
  line L12 (6.0256, 30.01) -> (5.5256, 29.51) projected
  line L13 (5.5256, 29.51) -> (-5.4744, 29.51) projected
  line L14 (-5.4744, 29.51) -> (-5.9744, 30.01) projected
  line L15 (-5.9744, 30.01) -> (-5.9744, 30.6846) projected
  arc A8 (-5.8192, 30.9159) -> (-5.9744, 30.6846) centre (-5.7244, 30.6846) ccw projected
  arc A9 (-5.8192, 30.9159) -> (-5.259, 31.3868) centre (-6.2744, 32.0262) ccw projected
  arc A10 (-5.0692, 31.5027) -> (-5.259, 31.3868) centre (-5.0474, 31.2536) ccw projected
  line L16 (-5.0692, 31.5027) -> (-4.7026, 31.5347) projected
  arc A11 (-4.7026, 31.5347) -> (-4.4744, 31.7838) centre (-4.7244, 31.7838) ccw projected
  line L17 (-4.4744, 31.7838) -> (-4.4744, 32.2362) projected
  arc A12 (-4.4744, 32.2362) -> (-4.7026, 32.4853) centre (-4.7244, 32.2362) ccw projected
  line L18 (-4.7026, 32.4853) -> (-5.0482, 32.5155) projected
  arc A13 (-5.2416, 32.6373) -> (-5.0482, 32.5155) centre (-5.0265, 32.7645) ccw projected
  arc A14 (-5.2416, 32.6373) -> (-5.8192, 33.1366) centre (-6.2744, 32.0262) ccw projected
  arc A15 (-5.9744, 33.3679) -> (-5.8192, 33.1366) centre (-5.7244, 33.3679) ccw projected
  line L19 (-5.9744, 33.3679) -> (-5.9744, 34.51) projected
  line L20 (-5.9744, 34.51) -> (-12.5744, 34.51) projected
  line L21 (-12.5744, 34.51) -> (-13.1744, 33.91) projected
  circle A16 centre (-6.8744, 27.505) radius 2.1 projected
  circle A17 centre (6.9256, 27.505) radius 2.1 projected
  line L22 (-6.4744, 28.46) -> (6.5256, 28.46)
  line L23 (6.5256, 28.46) -> (6.5256, 59.0305)
  line L24 (6.5256, 59.0305) -> (-6.4744, 59.0305)
  line L25 (-6.4744, 59.0305) -> (-6.4744, 28.46)
  point P0 (7.4556, 24.63)
  dimension "d99" = 0.5
  dimension "d100" = 0.5
extrude "Extrusion19" cut sketch "Sketch21" against normal through all contours L25 L24 L23 L6 L7 A0 A1 A2 L8 A3 L9 A4 L10 A5 A6 A7 L11 L12 L13 L14 L15 A8 A9 A10 L16 A11 L17 A12 L18 A13 A14 A15 L19 L20 | L20 L19 A15 A14 A13 L18 A12 L17 A11 L16 A10 A9 A8 L15 L14 L13 L12 L11 A7 A6 A5 L10 A4 L9 A3 L8 A2 A1 A0 L7 L6 L23 A17 L22 A16 L25 | A16 L22 L25 | A17 L23 L22 picked at (-5.5817, 28.592) picked at (5.6329, 28.592)
sketch "Sketch23" plane through (-7.4556, -11.4352, 24.63) normal (0, 1, 0) x (1, 0, 0)
  circle A0 centre (11.5, 21.21) radius 1.025 projected
  circle A1 centre (-11.5, 21.21) radius 1.25 projected
  circle A2 centre (11.5, 21.21) radius 1.75
  circle A3 centre (-11.5, 21.21) radius 1.75
  point P0 (7.4556, 24.63)
  dimension "d106" = 3.5
  dimension "d107" = 3.5
extrude "Extrusion21" cut sketch "Sketch23" along normal through all both and the other way through all contours A0 | A1 | A2 | A3
sketch "Skizze24" plane through (-7.4556, -11.4352, 24.63) normal (0, 1, 0) x (1, 0, 0)
  circle A0 centre (-6.4952, 13.46) radius 4 projected
  arc A1 (9.9261, 21.975) -> (13.0739, 21.975) centre (11.5, 21.21) ccw projected
  line L0 (9.9261, 21.975) -> (-9.9261, 21.975) projected
  arc A2 (-13.0739, 21.975) -> (-9.9261, 21.975) centre (-11.5, 21.21) ccw projected
  line L1 (-13.0739, 21.975) -> (-16.4952, 21.975) projected
  line L2 (-16.4952, 17.8767) -> (-16.4952, 21.975) projected
  line L3 (-3.4952, -3.79) -> (-16.4952, 17.8767) projected
  line L4 (3.4952, -3.79) -> (-3.4952, -3.79) projected
  line L5 (3.4952, -3.79) -> (16.4952, 17.8767) projected
  line L6 (16.4952, 17.8767) -> (16.4952, 21.975) projected
  line L7 (16.4952, 21.975) -> (13.0739, 21.975) projected
  circle A3 centre (0, 2.21) radius 4 projected
  circle A4 centre (6.4952, 13.46) radius 4 projected
  circle A5 centre (-6.4952, 13.46) radius 4 projected
  line L8 (0, 2.21) -> (-6.4952, 13.46) construction
  line L9 (-6.4952, 13.46) -> (6.4952, 13.46) construction
  line L10 (6.4952, 13.46) -> (0, 2.21) construction
  circle A6 centre (0, 9.71) radius 3.75 construction
  circle A7 centre (0, 9.71) radius 3
  point P0 (7.4556, 24.63)
  dimension "d118" = 6
extrude "Extrusion22" cut sketch "Skizze24" against normal blind 10 contours A7
sketch "Skizze25" plane through (-7.4556, -11.4352, 24.63) normal (0, 1, 0) x (1, 0, 0)
  circle A0 centre (-11.0825, 81.36) radius 2.45 projected
  circle A1 centre (0, 56.5203) radius 2.45 projected
  circle A2 centre (11.0314, 81.36) radius 2.45 projected
  line L0 (5.945, 49.7974) -> (5.945, 47.4855) projected
  line L1 (5.945, 47.4855) -> (9.2297, 47.4855) projected
  arc A3 (10.033, 47.4855) -> (9.2297, 47.4855) centre (9.6314, 48.8267) ccw projected
  line L2 (10.033, 47.4855) -> (13.4972, 47.4855) projected
  line L3 (13.4972, 47.4855) -> (15, 55.86) projected
  line L4 (15, 55.86) -> (15, 85.86) projected
  line L5 (15, 85.86) -> (-15, 85.86) projected
  line L6 (-15, 85.86) -> (-15, 55.86) projected
  line L7 (-15, 55.86) -> (-13.5429, 47.4855) projected
  line L8 (-13.5429, 47.4855) -> (-10.0842, 47.4855) projected
  arc A4 (-9.2809, 47.4855) -> (-10.0842, 47.4855) centre (-9.6825, 48.8267) ccw projected
  line L9 (-9.2809, 47.4855) -> (-5.9961, 47.4855) projected
  line L10 (-5.9961, 47.4855) -> (-5.9961, 49.7974) projected
  line L11 (-5.9961, 49.7974) -> (5.945, 49.7974) projected
  circle A5 centre (0, 70.86) radius 10.5 projected
  circle A6 centre (-9.6825, 53.8267) radius 1.4 projected
  circle A7 centre (9.6314, 53.8267) radius 1.4 projected
  circle A8 centre (9.6314, 48.8267) radius 1.4
  circle A9 centre (-9.6825, 48.8267) radius 1.4
  point P0 (7.4556, 24.63)
  point P1 (-10.0842, 47.4855)
  point P2 (-9.2809, 47.4855)
extrude "Extrusion23" cut sketch "Skizze25" against normal blind 10 contours A3 A8 | A9 A4 | A6 | A7
ref_plane "Arbeitsebene9" through (-7.4556, -16.4352, 6.7533) normal (1, 0, 0) x (0, 0, -1)
properties part number "30_Cube_Z_Focus_MGN12_NEMA_slide_part2"
